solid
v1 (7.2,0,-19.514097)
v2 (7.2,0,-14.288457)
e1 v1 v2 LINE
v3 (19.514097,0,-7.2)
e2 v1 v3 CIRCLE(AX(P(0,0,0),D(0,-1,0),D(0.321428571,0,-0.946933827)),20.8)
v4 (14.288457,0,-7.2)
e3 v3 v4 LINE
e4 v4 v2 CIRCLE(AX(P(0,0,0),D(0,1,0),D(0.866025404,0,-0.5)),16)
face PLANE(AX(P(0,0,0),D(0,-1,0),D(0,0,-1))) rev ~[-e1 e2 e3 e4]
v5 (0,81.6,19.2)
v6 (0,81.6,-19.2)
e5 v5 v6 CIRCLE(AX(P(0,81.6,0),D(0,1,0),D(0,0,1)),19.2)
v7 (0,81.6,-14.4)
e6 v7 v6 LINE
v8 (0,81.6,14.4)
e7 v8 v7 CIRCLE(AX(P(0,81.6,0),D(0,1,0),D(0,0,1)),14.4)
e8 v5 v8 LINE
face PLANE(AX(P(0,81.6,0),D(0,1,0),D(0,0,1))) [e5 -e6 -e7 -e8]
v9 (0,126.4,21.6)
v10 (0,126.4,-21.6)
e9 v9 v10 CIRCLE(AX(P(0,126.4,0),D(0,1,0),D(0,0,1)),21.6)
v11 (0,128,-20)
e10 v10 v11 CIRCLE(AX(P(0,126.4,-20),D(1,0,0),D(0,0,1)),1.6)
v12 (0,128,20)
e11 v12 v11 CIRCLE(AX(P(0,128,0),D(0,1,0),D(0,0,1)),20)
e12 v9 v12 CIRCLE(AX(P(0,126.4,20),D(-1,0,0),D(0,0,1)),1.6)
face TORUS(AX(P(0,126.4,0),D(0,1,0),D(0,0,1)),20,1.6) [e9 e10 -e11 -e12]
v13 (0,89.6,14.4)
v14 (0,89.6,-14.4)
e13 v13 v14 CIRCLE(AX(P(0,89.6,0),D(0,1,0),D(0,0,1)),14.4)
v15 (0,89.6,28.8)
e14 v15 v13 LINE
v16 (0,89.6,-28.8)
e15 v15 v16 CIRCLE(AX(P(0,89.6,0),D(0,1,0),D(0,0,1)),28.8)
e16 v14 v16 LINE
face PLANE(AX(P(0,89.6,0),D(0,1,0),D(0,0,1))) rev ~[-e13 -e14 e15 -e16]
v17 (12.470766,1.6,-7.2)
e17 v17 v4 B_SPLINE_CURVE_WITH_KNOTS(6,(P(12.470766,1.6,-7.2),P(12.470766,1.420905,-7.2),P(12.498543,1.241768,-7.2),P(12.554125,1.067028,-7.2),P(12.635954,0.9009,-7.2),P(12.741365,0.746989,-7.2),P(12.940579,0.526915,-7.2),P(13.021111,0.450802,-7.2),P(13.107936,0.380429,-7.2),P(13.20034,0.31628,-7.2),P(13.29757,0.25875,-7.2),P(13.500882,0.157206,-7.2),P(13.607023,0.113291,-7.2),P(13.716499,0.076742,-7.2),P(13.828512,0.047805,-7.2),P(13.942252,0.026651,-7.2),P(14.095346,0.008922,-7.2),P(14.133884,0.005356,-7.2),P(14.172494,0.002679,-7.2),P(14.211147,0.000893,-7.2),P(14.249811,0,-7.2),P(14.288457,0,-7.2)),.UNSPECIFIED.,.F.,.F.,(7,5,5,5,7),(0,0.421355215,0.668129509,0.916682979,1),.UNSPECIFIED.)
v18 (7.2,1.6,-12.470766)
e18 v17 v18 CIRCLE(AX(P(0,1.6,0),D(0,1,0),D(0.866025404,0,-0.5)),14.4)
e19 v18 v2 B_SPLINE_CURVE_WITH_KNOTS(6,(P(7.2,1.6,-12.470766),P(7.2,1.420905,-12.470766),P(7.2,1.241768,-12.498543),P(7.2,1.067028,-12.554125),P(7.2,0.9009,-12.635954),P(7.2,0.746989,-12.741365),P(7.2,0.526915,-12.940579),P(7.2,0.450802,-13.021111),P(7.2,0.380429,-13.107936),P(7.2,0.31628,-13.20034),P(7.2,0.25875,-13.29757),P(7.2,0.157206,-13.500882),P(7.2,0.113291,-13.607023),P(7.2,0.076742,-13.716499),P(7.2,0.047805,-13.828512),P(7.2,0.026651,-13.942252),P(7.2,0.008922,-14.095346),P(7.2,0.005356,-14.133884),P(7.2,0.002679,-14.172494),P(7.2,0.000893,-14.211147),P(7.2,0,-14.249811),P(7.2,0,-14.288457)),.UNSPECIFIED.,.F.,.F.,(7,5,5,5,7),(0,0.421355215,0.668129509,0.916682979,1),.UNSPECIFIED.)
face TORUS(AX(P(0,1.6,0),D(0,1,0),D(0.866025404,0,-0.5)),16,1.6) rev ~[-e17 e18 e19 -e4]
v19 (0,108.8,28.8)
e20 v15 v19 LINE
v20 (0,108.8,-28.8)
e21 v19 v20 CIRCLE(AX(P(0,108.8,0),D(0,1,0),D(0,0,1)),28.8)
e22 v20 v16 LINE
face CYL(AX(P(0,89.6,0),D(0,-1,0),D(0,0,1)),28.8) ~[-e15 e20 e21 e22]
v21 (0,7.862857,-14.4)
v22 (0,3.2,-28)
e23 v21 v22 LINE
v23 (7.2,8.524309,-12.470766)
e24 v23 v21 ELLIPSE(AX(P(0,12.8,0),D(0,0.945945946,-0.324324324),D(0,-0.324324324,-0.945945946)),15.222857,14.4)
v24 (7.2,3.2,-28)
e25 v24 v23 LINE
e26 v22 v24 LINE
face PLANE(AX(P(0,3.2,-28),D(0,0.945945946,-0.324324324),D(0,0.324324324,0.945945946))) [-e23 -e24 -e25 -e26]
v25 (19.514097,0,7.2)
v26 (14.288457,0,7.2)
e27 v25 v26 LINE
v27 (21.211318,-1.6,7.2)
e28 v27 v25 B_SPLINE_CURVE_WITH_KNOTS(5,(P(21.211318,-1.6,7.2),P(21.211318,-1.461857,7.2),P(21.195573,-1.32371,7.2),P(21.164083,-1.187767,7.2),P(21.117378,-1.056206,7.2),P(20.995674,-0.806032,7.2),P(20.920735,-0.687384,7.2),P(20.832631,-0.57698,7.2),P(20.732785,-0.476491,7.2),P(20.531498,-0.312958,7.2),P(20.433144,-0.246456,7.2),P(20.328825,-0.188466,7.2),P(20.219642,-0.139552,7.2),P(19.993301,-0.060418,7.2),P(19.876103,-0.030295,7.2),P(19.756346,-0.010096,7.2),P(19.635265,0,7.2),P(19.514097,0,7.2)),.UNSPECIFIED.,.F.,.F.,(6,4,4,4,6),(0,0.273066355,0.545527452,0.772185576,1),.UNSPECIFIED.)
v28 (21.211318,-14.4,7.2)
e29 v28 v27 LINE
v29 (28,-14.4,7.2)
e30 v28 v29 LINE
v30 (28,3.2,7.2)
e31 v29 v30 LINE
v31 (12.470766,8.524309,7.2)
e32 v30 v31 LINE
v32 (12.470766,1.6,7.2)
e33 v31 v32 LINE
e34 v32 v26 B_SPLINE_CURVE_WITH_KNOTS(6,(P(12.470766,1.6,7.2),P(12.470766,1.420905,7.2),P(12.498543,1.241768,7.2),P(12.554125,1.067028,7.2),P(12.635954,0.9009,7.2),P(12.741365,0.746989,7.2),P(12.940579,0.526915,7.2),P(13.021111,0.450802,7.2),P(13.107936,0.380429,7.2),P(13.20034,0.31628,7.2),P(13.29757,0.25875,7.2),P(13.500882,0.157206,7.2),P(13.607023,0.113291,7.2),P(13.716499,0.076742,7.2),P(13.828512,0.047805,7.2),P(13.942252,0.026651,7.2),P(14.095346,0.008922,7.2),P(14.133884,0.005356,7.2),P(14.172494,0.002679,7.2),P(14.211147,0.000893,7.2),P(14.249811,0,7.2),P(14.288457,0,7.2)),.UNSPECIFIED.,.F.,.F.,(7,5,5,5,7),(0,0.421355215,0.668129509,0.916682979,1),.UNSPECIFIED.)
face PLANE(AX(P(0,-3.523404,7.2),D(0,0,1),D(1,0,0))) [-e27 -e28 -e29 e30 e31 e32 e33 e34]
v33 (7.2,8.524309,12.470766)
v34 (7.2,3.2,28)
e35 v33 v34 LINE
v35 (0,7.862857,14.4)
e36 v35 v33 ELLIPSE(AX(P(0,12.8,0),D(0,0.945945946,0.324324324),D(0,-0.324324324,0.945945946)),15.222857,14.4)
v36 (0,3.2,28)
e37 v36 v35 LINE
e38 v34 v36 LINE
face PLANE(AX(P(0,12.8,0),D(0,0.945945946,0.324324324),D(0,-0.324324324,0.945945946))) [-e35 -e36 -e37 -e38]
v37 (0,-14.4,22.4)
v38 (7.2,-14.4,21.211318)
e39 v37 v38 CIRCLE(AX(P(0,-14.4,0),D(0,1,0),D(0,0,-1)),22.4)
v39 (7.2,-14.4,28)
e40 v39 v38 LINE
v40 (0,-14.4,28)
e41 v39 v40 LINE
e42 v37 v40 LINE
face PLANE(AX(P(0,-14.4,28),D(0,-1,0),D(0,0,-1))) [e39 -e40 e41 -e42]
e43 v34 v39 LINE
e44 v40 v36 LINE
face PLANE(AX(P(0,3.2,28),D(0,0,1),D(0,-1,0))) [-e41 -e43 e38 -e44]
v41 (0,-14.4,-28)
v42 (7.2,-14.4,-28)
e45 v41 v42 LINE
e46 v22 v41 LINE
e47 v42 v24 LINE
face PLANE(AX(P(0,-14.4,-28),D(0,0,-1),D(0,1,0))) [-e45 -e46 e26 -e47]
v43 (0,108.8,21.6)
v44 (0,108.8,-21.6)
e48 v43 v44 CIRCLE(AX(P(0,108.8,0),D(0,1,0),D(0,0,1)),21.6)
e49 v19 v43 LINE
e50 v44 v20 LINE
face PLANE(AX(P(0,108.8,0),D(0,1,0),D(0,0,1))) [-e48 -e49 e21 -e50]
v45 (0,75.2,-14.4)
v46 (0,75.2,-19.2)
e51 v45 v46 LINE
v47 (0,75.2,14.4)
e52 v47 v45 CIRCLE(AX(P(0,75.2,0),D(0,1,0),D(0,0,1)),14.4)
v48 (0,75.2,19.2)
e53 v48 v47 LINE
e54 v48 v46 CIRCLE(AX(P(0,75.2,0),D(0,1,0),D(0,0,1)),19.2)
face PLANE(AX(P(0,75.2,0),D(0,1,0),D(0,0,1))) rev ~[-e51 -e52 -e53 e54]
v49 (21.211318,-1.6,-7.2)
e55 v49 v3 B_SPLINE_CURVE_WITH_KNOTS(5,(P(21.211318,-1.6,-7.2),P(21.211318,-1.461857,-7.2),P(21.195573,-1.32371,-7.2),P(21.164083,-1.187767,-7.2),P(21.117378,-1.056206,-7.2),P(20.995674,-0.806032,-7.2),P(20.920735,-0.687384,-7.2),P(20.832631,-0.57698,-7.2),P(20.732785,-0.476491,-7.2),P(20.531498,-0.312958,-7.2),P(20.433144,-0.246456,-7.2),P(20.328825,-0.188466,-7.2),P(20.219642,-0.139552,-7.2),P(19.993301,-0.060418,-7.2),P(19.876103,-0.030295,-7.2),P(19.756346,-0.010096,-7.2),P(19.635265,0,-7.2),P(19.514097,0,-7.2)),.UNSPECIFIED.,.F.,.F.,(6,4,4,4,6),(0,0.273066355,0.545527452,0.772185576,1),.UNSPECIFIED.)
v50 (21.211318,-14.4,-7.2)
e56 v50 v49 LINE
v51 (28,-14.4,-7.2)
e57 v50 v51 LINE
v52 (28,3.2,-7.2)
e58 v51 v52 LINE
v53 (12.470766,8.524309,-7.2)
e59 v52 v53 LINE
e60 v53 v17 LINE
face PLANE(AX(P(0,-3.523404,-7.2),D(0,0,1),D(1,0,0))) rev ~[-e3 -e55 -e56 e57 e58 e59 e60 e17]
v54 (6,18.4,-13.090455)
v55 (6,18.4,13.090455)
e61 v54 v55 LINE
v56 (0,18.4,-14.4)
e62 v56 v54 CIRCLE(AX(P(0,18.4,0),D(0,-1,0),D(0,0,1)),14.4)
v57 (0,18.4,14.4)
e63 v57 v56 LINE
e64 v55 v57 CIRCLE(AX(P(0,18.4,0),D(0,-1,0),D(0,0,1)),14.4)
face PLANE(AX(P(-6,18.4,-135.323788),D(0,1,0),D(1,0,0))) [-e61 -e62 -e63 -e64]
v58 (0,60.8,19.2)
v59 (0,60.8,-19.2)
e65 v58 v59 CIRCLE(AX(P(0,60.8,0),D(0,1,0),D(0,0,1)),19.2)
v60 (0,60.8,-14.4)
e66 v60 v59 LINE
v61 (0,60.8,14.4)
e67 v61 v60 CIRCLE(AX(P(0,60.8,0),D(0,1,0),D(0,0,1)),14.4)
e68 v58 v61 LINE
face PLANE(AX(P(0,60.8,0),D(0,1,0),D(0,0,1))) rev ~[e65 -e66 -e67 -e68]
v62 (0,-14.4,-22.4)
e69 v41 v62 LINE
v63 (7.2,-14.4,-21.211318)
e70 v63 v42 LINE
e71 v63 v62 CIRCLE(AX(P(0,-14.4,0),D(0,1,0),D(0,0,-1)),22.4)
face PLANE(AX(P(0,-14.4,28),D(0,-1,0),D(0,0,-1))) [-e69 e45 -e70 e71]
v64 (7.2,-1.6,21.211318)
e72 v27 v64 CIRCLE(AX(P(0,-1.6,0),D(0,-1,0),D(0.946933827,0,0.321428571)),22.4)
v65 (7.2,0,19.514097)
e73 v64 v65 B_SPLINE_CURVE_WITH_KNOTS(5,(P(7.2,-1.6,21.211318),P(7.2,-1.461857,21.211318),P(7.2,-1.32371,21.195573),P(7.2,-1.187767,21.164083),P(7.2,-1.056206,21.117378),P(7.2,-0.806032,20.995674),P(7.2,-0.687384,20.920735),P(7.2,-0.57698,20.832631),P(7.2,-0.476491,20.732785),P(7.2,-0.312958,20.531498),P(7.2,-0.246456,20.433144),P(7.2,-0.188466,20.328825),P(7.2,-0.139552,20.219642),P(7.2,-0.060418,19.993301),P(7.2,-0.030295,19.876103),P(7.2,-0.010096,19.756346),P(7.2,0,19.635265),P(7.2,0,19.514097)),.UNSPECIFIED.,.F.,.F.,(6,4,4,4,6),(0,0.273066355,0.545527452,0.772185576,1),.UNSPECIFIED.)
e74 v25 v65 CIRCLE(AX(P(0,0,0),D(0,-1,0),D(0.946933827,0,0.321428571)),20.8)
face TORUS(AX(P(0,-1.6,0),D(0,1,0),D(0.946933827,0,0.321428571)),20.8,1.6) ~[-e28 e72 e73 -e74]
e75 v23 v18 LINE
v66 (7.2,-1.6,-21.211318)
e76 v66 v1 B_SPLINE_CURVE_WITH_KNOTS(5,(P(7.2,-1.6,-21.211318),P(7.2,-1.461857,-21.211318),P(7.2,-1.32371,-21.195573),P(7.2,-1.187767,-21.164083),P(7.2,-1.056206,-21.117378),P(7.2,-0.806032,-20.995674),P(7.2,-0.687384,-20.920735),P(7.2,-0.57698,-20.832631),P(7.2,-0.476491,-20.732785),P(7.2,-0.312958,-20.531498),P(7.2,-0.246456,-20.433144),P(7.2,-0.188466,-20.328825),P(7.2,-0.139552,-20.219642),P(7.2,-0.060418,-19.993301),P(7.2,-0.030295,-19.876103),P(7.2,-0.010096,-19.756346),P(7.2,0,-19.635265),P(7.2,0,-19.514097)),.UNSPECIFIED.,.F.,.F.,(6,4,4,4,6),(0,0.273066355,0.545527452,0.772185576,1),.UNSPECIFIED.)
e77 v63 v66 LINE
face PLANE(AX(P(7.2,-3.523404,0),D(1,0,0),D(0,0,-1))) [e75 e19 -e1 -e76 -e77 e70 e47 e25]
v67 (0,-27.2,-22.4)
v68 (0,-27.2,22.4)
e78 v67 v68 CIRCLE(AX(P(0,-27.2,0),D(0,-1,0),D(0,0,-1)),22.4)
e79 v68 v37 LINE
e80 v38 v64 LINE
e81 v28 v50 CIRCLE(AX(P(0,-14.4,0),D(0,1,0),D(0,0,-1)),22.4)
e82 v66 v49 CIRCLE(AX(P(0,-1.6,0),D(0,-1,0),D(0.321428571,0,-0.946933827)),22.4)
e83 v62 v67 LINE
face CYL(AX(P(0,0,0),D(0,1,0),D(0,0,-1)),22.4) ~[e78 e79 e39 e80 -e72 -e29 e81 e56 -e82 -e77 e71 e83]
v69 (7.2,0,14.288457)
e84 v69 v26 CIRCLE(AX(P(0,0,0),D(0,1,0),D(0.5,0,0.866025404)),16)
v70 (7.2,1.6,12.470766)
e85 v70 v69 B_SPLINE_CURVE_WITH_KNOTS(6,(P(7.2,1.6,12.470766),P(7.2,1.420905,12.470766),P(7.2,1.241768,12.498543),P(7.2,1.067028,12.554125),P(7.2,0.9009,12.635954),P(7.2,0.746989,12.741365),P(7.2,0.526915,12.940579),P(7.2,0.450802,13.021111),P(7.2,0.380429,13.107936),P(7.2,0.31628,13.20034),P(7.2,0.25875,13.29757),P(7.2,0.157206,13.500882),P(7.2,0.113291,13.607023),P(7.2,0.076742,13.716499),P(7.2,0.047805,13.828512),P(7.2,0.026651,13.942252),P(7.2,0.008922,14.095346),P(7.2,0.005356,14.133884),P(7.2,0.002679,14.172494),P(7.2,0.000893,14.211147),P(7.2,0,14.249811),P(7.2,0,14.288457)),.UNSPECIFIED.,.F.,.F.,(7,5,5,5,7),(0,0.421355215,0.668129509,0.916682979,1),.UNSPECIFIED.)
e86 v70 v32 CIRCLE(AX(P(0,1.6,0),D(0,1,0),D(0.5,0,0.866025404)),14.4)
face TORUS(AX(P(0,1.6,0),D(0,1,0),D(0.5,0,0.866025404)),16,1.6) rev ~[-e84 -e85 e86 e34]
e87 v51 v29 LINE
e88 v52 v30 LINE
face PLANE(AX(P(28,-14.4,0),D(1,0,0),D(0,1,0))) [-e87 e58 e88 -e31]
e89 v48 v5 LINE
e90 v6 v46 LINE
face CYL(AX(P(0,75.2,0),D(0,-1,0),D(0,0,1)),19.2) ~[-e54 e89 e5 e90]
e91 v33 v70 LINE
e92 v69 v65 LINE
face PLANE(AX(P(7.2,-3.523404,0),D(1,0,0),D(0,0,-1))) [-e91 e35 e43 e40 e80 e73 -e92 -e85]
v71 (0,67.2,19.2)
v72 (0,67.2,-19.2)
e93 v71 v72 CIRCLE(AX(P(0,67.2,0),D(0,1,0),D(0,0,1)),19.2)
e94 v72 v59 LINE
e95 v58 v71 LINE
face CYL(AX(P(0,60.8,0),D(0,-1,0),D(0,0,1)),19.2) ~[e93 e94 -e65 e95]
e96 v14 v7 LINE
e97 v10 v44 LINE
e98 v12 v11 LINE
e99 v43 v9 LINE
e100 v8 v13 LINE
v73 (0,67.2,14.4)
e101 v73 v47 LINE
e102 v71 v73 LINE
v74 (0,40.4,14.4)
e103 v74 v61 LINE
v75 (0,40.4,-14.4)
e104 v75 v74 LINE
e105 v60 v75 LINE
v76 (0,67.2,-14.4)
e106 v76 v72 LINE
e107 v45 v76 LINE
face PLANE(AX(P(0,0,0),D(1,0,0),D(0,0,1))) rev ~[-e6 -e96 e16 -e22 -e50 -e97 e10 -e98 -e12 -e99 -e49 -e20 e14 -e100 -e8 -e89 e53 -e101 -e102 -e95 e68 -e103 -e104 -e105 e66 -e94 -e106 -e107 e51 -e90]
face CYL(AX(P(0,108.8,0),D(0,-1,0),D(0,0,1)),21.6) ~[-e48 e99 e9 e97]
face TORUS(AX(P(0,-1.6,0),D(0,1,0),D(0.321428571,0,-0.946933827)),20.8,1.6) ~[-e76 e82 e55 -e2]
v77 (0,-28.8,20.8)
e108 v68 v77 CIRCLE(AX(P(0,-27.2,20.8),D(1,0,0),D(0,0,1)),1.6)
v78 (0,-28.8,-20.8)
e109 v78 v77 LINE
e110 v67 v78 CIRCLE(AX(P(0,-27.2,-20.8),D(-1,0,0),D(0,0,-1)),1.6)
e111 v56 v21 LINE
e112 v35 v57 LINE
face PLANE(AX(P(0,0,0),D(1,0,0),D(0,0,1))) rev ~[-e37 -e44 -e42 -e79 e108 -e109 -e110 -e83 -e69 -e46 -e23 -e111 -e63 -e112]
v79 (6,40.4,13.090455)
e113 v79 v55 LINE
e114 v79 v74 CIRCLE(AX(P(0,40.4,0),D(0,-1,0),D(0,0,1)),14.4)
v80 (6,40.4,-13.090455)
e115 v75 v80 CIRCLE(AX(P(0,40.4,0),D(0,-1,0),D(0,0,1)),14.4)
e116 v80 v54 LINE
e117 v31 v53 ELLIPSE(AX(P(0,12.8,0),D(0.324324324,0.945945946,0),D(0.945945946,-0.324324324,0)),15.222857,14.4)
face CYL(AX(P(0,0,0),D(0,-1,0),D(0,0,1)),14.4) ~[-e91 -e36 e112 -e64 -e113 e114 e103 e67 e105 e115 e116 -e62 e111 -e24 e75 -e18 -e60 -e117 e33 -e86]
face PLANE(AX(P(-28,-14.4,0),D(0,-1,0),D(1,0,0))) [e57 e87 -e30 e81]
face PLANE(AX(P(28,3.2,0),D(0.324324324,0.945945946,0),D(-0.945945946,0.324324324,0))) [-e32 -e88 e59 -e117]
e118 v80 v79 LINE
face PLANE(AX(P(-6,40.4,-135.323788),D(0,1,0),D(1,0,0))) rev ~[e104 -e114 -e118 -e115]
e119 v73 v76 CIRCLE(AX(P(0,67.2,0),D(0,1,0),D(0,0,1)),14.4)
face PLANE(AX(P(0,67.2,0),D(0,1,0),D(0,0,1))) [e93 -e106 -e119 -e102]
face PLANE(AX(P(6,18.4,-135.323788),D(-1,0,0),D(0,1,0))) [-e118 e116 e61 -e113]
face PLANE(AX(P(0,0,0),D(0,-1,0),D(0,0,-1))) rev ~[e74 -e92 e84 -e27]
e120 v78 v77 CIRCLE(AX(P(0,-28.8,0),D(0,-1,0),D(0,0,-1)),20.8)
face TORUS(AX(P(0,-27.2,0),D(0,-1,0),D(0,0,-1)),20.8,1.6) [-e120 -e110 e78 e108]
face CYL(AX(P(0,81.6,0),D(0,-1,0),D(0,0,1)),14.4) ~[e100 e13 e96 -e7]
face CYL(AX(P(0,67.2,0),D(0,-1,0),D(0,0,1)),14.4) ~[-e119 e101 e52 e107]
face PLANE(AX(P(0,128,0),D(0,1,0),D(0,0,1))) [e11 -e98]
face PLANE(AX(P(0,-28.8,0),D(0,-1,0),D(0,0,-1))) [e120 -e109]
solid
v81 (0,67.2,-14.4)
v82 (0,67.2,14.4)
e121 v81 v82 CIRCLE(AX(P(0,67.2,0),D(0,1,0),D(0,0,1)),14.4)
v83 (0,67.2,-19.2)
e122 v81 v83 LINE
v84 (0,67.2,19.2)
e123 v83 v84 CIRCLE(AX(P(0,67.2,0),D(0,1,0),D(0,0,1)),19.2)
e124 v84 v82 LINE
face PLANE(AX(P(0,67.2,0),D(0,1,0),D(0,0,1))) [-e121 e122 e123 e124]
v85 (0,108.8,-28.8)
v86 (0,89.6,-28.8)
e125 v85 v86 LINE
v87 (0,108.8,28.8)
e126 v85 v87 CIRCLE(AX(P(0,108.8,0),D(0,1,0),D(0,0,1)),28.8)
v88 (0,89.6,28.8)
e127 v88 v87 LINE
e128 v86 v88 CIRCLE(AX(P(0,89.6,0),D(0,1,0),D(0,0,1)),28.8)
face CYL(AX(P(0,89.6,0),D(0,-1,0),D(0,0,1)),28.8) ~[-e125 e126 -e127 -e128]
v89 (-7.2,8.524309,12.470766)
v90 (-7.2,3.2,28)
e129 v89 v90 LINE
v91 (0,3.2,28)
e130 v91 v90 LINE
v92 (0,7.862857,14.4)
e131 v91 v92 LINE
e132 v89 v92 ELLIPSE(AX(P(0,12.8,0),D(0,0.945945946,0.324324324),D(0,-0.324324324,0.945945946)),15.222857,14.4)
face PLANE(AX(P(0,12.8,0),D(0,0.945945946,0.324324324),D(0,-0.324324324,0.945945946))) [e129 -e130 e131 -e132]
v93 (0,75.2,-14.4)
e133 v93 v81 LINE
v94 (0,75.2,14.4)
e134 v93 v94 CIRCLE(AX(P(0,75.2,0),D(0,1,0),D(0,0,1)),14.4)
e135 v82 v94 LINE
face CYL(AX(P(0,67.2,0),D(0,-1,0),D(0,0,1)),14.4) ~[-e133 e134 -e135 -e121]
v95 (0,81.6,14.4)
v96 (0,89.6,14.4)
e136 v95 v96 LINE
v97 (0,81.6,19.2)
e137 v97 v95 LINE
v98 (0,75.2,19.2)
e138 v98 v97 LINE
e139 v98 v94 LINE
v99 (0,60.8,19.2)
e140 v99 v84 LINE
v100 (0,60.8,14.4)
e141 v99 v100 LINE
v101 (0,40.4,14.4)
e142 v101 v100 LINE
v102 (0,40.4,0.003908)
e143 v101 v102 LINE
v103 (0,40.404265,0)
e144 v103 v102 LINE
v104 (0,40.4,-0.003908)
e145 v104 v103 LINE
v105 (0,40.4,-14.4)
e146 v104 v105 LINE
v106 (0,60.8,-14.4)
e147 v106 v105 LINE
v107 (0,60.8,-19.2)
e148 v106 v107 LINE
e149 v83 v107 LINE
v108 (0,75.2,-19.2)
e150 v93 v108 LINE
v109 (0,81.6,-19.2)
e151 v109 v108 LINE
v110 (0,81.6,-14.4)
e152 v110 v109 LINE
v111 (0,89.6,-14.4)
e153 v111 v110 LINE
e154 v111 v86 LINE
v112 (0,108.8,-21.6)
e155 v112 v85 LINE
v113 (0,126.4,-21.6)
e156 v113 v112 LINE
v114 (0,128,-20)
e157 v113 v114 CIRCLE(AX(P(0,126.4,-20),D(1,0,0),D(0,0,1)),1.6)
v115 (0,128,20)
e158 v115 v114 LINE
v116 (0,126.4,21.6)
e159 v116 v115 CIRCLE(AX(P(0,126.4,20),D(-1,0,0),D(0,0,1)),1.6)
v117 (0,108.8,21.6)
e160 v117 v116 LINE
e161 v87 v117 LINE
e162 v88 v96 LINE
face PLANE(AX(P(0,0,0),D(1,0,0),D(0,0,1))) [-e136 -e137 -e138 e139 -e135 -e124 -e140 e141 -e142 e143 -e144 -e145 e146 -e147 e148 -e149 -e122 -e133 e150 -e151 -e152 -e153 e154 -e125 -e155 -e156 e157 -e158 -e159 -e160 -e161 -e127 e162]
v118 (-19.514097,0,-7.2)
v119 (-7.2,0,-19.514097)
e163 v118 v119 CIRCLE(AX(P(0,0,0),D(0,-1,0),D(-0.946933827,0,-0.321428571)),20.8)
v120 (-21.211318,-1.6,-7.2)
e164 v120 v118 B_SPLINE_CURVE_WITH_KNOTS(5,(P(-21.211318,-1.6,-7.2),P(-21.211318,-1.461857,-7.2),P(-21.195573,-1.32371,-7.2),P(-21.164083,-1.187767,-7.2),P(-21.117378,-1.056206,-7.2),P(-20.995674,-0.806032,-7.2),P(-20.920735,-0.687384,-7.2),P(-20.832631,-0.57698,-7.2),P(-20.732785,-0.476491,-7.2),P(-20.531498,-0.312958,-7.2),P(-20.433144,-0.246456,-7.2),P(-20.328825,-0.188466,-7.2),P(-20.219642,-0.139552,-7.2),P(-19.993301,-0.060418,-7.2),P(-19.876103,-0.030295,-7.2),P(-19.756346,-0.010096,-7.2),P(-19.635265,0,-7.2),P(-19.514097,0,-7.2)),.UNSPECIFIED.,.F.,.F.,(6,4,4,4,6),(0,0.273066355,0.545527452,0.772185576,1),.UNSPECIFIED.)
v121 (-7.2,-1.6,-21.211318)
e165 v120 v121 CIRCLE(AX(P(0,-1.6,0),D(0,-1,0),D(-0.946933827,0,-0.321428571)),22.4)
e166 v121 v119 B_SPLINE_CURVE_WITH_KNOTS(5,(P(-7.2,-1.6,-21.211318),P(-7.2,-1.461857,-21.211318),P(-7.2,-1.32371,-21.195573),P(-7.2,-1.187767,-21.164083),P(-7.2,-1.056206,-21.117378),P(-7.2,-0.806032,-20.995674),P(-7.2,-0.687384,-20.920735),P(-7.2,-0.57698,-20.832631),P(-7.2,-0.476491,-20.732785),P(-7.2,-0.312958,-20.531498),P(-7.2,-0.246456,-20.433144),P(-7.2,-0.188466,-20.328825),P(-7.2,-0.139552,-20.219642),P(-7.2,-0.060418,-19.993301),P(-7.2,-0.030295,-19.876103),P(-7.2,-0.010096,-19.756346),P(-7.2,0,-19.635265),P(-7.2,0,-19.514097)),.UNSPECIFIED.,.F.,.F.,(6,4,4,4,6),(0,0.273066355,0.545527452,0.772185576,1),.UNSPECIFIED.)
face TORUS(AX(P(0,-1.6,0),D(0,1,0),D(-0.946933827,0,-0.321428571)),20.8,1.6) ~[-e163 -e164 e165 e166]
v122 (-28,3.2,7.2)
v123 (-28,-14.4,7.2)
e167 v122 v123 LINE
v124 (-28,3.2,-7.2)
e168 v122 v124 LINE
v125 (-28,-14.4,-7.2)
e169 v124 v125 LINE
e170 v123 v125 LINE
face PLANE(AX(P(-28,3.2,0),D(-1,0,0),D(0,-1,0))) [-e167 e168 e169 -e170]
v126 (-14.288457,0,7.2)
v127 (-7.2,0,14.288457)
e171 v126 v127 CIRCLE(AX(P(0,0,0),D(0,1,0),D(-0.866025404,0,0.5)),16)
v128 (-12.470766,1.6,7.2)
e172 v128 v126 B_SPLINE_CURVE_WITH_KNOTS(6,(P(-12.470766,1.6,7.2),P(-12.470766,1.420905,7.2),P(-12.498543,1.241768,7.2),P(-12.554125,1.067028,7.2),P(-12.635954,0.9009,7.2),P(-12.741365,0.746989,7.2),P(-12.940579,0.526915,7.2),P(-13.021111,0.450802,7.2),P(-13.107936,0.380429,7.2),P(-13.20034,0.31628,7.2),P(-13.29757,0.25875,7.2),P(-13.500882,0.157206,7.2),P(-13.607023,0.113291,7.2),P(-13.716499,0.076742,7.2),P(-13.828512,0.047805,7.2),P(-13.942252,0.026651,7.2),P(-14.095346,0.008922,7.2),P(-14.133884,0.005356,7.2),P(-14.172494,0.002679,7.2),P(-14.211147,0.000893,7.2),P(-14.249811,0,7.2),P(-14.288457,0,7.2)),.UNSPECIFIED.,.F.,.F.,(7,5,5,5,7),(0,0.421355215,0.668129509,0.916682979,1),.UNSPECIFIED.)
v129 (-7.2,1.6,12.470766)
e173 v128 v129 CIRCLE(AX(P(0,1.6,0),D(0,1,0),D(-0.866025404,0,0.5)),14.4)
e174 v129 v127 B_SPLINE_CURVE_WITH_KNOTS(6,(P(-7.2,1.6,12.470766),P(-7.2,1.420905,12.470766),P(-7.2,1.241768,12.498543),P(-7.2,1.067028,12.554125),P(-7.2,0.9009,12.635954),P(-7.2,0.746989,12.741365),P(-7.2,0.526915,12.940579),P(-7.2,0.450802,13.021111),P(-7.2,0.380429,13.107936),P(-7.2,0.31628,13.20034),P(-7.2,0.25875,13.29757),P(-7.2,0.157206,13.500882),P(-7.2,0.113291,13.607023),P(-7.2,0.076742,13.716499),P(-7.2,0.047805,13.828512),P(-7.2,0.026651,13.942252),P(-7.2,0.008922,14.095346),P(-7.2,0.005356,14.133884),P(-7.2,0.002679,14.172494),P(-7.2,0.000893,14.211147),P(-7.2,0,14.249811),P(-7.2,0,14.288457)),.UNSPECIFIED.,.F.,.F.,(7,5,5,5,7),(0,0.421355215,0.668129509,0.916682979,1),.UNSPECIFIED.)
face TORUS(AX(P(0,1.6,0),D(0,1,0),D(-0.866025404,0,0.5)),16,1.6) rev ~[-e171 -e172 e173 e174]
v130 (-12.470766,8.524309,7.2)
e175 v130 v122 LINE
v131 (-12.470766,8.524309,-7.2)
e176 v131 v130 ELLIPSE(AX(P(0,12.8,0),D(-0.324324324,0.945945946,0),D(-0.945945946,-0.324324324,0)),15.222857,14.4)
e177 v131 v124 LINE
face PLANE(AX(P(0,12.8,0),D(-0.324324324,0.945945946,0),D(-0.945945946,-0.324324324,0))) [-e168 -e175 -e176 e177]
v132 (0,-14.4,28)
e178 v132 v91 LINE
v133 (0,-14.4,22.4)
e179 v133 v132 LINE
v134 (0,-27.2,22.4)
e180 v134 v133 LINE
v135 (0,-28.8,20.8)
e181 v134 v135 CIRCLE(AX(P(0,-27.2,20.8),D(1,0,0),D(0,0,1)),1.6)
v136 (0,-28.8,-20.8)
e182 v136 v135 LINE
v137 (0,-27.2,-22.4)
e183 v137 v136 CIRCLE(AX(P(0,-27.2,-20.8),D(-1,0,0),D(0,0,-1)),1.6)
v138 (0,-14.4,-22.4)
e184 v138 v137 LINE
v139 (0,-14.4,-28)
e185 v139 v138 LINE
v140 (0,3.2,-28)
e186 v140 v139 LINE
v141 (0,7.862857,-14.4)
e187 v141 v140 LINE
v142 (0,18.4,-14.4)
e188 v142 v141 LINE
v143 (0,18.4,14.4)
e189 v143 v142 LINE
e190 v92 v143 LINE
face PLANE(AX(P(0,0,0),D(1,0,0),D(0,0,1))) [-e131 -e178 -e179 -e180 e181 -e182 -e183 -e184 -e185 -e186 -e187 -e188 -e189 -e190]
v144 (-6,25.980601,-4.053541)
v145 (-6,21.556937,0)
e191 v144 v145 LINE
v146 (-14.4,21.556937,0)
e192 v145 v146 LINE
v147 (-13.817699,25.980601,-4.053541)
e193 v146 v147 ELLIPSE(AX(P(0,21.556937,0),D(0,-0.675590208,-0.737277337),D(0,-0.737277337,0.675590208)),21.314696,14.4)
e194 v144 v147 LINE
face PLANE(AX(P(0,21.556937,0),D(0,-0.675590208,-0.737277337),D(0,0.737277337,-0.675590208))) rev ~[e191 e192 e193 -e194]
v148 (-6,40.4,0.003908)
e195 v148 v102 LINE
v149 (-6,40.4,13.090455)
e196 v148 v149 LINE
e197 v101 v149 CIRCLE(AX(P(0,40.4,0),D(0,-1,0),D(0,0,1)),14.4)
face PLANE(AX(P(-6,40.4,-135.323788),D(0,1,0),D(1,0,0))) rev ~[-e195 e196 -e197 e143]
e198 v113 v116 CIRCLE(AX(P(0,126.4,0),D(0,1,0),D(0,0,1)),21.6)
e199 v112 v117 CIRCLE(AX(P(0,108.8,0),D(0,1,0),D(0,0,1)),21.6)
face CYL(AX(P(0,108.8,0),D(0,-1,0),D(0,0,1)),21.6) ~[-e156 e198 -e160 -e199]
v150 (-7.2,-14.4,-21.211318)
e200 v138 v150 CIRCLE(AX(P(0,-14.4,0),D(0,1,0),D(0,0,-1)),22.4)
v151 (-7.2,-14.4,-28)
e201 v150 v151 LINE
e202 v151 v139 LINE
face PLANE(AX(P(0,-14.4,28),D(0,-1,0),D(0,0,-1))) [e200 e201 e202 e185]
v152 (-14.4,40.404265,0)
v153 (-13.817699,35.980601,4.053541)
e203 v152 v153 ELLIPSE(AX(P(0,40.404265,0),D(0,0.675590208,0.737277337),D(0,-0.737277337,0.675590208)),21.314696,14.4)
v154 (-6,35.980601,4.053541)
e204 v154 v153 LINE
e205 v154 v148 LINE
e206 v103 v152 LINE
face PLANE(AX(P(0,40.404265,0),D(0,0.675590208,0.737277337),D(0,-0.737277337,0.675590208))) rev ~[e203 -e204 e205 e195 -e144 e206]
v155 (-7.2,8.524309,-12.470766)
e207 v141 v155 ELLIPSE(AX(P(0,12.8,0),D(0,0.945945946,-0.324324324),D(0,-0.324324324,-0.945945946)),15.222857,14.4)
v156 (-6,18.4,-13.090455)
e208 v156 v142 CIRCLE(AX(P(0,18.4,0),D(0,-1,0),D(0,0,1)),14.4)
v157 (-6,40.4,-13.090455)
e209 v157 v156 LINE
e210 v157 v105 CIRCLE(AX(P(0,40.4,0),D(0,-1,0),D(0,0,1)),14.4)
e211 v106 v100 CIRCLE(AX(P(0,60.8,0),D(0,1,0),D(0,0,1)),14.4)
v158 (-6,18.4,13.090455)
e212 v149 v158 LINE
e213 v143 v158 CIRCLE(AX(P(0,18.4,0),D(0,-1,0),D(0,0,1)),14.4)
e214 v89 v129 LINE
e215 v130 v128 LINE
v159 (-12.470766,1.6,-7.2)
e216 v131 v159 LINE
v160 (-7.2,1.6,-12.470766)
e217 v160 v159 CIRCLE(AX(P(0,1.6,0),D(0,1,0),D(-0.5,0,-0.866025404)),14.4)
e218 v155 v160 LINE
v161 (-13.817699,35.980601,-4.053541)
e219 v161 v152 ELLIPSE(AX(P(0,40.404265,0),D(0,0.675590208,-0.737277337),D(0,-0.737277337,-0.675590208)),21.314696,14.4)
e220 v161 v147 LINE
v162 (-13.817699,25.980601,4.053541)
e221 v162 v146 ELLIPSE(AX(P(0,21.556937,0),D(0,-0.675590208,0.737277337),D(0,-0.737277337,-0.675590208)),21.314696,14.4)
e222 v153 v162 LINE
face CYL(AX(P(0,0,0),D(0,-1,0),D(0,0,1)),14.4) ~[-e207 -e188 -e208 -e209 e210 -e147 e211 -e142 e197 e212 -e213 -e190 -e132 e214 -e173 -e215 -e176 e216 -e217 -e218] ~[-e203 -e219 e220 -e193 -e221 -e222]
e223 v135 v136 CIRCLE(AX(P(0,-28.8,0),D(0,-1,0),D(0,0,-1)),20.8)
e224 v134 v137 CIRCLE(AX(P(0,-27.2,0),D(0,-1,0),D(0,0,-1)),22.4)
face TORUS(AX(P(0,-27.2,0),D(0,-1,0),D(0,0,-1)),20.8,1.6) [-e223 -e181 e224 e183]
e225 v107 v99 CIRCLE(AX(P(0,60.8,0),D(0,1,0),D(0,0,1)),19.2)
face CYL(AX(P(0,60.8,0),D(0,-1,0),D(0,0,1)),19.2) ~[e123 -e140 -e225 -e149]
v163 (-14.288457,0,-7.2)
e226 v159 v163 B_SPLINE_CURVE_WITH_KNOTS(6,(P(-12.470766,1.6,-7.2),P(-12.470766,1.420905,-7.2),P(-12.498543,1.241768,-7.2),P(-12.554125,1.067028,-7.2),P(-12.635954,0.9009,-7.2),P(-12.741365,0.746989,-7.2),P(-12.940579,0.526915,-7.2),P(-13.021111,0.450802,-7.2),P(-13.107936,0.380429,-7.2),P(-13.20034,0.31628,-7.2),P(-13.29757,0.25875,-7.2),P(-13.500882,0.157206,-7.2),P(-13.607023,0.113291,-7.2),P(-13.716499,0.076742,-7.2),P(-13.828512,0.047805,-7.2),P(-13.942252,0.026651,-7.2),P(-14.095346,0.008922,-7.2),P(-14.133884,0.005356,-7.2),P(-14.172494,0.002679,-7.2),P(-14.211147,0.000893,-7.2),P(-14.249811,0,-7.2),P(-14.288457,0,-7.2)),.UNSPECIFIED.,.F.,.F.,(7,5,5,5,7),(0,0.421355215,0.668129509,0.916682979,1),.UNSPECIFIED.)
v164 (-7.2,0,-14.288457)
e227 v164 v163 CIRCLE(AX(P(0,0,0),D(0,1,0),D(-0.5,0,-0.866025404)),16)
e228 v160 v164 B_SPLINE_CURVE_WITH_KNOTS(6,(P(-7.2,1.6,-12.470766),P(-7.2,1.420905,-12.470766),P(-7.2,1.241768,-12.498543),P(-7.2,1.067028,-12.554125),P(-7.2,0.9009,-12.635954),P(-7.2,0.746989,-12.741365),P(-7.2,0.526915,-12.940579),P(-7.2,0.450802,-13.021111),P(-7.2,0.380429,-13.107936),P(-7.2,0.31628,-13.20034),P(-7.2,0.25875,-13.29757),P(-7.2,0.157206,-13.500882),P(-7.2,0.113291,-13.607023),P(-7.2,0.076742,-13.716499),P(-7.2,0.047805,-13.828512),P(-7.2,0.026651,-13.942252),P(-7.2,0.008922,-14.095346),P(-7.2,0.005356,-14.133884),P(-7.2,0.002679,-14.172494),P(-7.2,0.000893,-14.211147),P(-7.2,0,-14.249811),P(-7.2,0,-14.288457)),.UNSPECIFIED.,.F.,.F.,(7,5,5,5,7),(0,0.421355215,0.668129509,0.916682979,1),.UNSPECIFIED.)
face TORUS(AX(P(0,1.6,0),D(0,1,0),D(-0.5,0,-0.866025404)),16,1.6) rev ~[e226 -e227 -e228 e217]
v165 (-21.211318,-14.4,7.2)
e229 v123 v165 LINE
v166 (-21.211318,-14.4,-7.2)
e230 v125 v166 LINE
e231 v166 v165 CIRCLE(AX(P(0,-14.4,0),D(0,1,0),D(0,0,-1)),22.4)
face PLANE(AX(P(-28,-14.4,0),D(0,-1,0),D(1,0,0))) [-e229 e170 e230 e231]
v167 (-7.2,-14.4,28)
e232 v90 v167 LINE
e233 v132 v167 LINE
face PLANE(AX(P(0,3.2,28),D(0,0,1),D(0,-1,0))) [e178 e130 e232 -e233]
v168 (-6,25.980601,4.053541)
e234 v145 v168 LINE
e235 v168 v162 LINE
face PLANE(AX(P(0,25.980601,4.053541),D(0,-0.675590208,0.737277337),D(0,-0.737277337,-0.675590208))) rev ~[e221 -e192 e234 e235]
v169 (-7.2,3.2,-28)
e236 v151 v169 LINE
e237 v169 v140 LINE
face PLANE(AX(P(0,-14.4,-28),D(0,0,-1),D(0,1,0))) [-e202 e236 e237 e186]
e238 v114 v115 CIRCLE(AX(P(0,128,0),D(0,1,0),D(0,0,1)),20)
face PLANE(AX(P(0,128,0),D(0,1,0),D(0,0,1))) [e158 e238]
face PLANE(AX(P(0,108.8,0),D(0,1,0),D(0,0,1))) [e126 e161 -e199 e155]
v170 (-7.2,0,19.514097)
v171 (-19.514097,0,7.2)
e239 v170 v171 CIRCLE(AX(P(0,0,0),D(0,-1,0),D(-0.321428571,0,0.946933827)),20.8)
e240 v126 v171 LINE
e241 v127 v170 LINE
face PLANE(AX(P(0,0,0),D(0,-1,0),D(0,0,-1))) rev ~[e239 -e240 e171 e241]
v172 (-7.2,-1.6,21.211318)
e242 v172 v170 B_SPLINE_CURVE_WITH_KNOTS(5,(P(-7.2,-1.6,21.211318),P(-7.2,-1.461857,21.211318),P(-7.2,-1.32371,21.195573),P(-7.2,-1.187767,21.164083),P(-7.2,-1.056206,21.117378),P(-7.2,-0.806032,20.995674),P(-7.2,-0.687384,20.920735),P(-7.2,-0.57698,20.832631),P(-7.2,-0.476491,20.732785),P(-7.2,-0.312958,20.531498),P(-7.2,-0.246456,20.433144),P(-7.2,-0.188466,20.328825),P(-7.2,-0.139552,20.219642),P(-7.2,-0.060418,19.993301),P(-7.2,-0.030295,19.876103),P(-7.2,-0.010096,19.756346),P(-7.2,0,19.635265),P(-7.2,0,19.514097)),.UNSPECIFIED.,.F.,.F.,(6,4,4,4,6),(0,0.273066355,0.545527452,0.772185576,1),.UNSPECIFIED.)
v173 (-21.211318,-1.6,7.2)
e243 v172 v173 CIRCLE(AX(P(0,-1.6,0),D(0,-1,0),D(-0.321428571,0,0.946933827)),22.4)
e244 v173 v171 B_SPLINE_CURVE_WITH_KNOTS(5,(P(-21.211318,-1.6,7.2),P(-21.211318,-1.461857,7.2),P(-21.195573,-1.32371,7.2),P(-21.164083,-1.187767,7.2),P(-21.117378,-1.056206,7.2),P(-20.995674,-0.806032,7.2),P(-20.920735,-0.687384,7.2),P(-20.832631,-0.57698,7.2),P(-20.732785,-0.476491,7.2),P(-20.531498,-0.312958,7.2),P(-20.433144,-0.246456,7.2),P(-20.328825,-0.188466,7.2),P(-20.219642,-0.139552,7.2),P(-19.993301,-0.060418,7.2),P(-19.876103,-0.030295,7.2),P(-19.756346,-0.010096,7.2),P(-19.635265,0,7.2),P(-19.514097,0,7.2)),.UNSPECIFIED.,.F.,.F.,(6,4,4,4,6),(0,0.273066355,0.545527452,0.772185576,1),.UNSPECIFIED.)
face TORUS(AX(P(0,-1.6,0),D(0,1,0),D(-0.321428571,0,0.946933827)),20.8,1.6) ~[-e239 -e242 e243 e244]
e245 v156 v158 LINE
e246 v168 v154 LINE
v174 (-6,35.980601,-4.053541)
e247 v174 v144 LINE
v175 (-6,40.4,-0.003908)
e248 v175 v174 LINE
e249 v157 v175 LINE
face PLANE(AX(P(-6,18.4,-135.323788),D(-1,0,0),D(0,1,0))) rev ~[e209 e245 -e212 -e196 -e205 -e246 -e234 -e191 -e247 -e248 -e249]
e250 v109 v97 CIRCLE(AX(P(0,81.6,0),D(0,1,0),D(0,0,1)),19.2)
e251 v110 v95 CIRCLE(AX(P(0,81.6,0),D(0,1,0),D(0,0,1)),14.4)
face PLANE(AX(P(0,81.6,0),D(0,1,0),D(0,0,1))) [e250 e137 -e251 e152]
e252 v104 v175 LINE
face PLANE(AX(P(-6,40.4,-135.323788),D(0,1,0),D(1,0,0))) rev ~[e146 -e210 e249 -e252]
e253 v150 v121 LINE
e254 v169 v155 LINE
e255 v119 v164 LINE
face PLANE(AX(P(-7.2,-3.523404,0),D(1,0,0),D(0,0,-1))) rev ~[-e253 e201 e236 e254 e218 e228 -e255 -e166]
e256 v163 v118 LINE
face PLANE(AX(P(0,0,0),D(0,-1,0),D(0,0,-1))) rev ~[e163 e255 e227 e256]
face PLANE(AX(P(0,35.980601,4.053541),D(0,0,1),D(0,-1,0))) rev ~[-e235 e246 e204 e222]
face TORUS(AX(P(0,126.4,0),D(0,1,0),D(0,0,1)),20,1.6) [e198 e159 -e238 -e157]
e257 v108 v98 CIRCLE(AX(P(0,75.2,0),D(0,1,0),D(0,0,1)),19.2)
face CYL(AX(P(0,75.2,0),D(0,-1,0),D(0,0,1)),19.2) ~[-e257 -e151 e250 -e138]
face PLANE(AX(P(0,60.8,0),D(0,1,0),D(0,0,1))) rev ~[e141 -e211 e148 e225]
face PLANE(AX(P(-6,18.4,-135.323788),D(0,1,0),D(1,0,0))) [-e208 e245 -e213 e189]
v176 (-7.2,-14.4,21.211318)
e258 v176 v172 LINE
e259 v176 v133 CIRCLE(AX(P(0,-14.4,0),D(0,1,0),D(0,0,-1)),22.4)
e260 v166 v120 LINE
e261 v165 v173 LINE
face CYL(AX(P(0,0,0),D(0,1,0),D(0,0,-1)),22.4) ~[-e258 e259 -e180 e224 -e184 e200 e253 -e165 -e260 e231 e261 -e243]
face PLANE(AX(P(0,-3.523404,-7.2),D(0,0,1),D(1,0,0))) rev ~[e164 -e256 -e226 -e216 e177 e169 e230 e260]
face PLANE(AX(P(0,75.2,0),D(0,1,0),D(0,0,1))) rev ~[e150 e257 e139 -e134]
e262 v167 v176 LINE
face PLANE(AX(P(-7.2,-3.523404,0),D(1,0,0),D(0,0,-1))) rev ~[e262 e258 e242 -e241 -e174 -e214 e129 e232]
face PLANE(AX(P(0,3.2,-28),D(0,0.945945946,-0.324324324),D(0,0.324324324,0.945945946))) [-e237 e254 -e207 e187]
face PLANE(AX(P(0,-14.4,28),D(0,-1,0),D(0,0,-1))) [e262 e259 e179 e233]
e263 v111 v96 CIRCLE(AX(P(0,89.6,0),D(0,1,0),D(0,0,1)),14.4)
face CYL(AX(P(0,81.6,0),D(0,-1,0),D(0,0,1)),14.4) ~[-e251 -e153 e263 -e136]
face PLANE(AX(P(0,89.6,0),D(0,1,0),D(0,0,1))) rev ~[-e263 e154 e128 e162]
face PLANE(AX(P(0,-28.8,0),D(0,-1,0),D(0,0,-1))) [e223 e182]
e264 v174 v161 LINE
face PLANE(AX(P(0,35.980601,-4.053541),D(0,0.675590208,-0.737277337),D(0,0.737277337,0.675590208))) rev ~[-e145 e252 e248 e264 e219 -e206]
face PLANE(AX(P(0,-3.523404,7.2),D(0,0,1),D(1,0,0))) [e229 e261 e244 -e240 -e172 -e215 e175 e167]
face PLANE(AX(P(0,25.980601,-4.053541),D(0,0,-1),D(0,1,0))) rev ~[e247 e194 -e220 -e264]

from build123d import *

# Parameters (mm, degrees)
SKETCH1_R               = 4.5
BOSS_EXTRUDE1_DEPTH     = 19
SKETCH2_R               = 7
BOSS_EXTRUDE2_DEPTH     = 9
SKETCH3_R               = 6
BOSS_EXTRUDE3_DEPTH     = 2
SKETCH4_R               = 4.5
BOSS_EXTRUDE4_DEPTH     = 2.5
SKETCH5_R               = 6
BOSS_EXTRUDE5_DEPTH     = 2
SKETCH6_R               = 4.5
BOSS_EXTRUDE6_DEPTH     = 2.5
SKETCH7_R               = 9
BOSS_EXTRUDE7_DEPTH     = 6
SKETCH8_R               = 6.75
BOSS_EXTRUDE8_DEPTH     = 6
BOSS_EXTRUDE9_DEPTH     = 2.25
CIRPATTERN1_COUNT       = 2
CIRPATTERN1_ANGLE       = 90
FILLET1_R               = 0.5
FILLET3_R               = 0.5
SCALE3_SCALE            = 3.2
CUT_EXTRUDE1_DEPTH      = 135.323787916
CUT_EXTRUDE1_DEPTH_BACK = 135.323787916
SKETCH14_W              = 12
SKETCH14_H              = 22
CUT_EXTRUDE3_DEPTH      = 135.323787916


with BuildPart() as part:
    # Sketch1 → Boss-Extrude1 (new body)
    with BuildSketch(Plane(origin=(0, 0, 0), x_dir=(1, 0, 0), z_dir=(0, 1, 0))):
        Circle(SKETCH1_R)
    extrude(amount=BOSS_EXTRUDE1_DEPTH)

    # Sketch2 → Boss-Extrude2 (add)
    with BuildSketch(Plane.XZ):
        Circle(SKETCH2_R)
    extrude(amount=BOSS_EXTRUDE2_DEPTH)

    # Sketch3 → Boss-Extrude3 (add)
    with BuildSketch(Plane(origin=(0, 19, 0), x_dir=(1, 0, 0), z_dir=(0, 1, 0))):
        Circle(SKETCH3_R)
    extrude(amount=BOSS_EXTRUDE3_DEPTH)

    # Sketch4 → Boss-Extrude4 (add)
    with BuildSketch(Plane(origin=(0, 21, 0), x_dir=(1, 0, 0), z_dir=(0, 1, 0))):
        Circle(SKETCH4_R)
    extrude(amount=BOSS_EXTRUDE4_DEPTH)

    # Sketch5 → Boss-Extrude5 (add)
    with BuildSketch(Plane(origin=(0, 23.5, 0), x_dir=(1, 0, 0), z_dir=(0, 1, 0))):
        Circle(SKETCH5_R)
    extrude(amount=BOSS_EXTRUDE5_DEPTH)

    # Sketch6 → Boss-Extrude6 (add)
    with BuildSketch(Plane(origin=(0, 25.5, 0), x_dir=(1, 0, 0), z_dir=(0, 1, 0))):
        Circle(SKETCH6_R)
    extrude(amount=BOSS_EXTRUDE6_DEPTH)

    # Sketch7 → Boss-Extrude7 (add)
    with BuildSketch(Plane(origin=(0, 28, 0), x_dir=(1, 0, 0), z_dir=(0, 1, 0))):
        Circle(SKETCH7_R)
    extrude(amount=BOSS_EXTRUDE7_DEPTH)

    # Sketch8 → Boss-Extrude8 (add)
    with BuildSketch(Plane(origin=(0, 34, 0), x_dir=(1, 0, 0), z_dir=(0, 1, 0))):
        Circle(SKETCH8_R)
    extrude(amount=BOSS_EXTRUDE8_DEPTH)

    # Sketch10 → Boss-Extrude9 (add, symmetric)
    with BuildSketch(Plane(origin=(0, 0, 0), x_dir=(0, 0, -1), z_dir=(1, 0, 0))):
        Polygon((-8.75, -4.5), (8.75, -4.5), (8.75, 1), (0, 4), (-8.75, 1), align=None)
    boss_extrude9 = extrude(amount=BOSS_EXTRUDE9_DEPTH, both=True)

    # CirPattern1: Boss-Extrude9 ×2 about axis
    cirpattern1_axis = Axis((0, 19, 0), (0, -1, 0))
    for i in range(1, CIRPATTERN1_COUNT):
        add(boss_extrude9.rotate(cirpattern1_axis, i * CIRPATTERN1_ANGLE / (CIRPATTERN1_COUNT - 1)))

    # Fillet1
    fillet1_edges = [part.edges().sort_by_distance(p)[0] for p in [
        (4.949747468, 0, -4.949747468),
        (-4.949747468, 0, -4.949747468),
        (-4.949747468, 0, 4.949747468),
        (-7, -9, 0),
        (4.949747468, 0, 4.949747468),
        (-3.181980515, 0, -3.181980515),
        (3.181980515, 0, -3.181980515),
        (3.181980515, 0, 3.181980515),
        (-3.181980515, 0, 3.181980515),
    ]]
    fillet(fillet1_edges, radius=FILLET1_R)

    # Fillet3
    fillet3_edges = [part.edges().sort_by_distance(p)[0] for p in [
        (-6.75, 40, 0),
    ]]
    fillet(fillet3_edges, radius=FILLET3_R)


with BuildPart() as part_1:
    # Scale3: scaled about (0, 0, 0)
    add(part.part.scale(SCALE3_SCALE))

    # Sketch14 → Cut-Extrude1 (cut, two sides: drawn at the far end of the back side and taken through both)
    with BuildSketch(Plane.XY.offset(-CUT_EXTRUDE1_DEPTH_BACK)):
        with Locations((0, 29.4)):
            Rectangle(SKETCH14_W, SKETCH14_H)
    extrude(amount=CUT_EXTRUDE1_DEPTH + CUT_EXTRUDE1_DEPTH_BACK, mode=Mode.SUBTRACT)

    # Sketch17 → Cut-Extrude3 (cut, through all)
    with BuildSketch(Plane(origin=(0, 0, 0), x_dir=(0, 0, -1), z_dir=(1, 0, 0))):
        Polygon((0, 40.404265283), (-4.053541246, 35.980601263), (-4.053541246, 25.980601263), (0, 21.556937242), (4.053541246, 25.980601263), (4.053541246, 35.980601263), align=None)
    extrude(amount=-CUT_EXTRUDE3_DEPTH, mode=Mode.SUBTRACT)


with BuildPart() as body_2:
    # Split1: the piece on the far side of the plane
    add(part_1.part)
    split(bisect_by=Plane(origin=(0, 0, 0), x_dir=(0, 0, 1), z_dir=(1, 0, 0)), keep=Keep.BOTTOM)


with BuildPart() as part_2:
    add(part_1.part)

    # Split1
    split(bisect_by=Plane(origin=(0, 0, 0), x_dir=(0, 0, 1), z_dir=(1, 0, 0)), keep=Keep.TOP)


solid = Compound([body_2.part, part_2.part])
